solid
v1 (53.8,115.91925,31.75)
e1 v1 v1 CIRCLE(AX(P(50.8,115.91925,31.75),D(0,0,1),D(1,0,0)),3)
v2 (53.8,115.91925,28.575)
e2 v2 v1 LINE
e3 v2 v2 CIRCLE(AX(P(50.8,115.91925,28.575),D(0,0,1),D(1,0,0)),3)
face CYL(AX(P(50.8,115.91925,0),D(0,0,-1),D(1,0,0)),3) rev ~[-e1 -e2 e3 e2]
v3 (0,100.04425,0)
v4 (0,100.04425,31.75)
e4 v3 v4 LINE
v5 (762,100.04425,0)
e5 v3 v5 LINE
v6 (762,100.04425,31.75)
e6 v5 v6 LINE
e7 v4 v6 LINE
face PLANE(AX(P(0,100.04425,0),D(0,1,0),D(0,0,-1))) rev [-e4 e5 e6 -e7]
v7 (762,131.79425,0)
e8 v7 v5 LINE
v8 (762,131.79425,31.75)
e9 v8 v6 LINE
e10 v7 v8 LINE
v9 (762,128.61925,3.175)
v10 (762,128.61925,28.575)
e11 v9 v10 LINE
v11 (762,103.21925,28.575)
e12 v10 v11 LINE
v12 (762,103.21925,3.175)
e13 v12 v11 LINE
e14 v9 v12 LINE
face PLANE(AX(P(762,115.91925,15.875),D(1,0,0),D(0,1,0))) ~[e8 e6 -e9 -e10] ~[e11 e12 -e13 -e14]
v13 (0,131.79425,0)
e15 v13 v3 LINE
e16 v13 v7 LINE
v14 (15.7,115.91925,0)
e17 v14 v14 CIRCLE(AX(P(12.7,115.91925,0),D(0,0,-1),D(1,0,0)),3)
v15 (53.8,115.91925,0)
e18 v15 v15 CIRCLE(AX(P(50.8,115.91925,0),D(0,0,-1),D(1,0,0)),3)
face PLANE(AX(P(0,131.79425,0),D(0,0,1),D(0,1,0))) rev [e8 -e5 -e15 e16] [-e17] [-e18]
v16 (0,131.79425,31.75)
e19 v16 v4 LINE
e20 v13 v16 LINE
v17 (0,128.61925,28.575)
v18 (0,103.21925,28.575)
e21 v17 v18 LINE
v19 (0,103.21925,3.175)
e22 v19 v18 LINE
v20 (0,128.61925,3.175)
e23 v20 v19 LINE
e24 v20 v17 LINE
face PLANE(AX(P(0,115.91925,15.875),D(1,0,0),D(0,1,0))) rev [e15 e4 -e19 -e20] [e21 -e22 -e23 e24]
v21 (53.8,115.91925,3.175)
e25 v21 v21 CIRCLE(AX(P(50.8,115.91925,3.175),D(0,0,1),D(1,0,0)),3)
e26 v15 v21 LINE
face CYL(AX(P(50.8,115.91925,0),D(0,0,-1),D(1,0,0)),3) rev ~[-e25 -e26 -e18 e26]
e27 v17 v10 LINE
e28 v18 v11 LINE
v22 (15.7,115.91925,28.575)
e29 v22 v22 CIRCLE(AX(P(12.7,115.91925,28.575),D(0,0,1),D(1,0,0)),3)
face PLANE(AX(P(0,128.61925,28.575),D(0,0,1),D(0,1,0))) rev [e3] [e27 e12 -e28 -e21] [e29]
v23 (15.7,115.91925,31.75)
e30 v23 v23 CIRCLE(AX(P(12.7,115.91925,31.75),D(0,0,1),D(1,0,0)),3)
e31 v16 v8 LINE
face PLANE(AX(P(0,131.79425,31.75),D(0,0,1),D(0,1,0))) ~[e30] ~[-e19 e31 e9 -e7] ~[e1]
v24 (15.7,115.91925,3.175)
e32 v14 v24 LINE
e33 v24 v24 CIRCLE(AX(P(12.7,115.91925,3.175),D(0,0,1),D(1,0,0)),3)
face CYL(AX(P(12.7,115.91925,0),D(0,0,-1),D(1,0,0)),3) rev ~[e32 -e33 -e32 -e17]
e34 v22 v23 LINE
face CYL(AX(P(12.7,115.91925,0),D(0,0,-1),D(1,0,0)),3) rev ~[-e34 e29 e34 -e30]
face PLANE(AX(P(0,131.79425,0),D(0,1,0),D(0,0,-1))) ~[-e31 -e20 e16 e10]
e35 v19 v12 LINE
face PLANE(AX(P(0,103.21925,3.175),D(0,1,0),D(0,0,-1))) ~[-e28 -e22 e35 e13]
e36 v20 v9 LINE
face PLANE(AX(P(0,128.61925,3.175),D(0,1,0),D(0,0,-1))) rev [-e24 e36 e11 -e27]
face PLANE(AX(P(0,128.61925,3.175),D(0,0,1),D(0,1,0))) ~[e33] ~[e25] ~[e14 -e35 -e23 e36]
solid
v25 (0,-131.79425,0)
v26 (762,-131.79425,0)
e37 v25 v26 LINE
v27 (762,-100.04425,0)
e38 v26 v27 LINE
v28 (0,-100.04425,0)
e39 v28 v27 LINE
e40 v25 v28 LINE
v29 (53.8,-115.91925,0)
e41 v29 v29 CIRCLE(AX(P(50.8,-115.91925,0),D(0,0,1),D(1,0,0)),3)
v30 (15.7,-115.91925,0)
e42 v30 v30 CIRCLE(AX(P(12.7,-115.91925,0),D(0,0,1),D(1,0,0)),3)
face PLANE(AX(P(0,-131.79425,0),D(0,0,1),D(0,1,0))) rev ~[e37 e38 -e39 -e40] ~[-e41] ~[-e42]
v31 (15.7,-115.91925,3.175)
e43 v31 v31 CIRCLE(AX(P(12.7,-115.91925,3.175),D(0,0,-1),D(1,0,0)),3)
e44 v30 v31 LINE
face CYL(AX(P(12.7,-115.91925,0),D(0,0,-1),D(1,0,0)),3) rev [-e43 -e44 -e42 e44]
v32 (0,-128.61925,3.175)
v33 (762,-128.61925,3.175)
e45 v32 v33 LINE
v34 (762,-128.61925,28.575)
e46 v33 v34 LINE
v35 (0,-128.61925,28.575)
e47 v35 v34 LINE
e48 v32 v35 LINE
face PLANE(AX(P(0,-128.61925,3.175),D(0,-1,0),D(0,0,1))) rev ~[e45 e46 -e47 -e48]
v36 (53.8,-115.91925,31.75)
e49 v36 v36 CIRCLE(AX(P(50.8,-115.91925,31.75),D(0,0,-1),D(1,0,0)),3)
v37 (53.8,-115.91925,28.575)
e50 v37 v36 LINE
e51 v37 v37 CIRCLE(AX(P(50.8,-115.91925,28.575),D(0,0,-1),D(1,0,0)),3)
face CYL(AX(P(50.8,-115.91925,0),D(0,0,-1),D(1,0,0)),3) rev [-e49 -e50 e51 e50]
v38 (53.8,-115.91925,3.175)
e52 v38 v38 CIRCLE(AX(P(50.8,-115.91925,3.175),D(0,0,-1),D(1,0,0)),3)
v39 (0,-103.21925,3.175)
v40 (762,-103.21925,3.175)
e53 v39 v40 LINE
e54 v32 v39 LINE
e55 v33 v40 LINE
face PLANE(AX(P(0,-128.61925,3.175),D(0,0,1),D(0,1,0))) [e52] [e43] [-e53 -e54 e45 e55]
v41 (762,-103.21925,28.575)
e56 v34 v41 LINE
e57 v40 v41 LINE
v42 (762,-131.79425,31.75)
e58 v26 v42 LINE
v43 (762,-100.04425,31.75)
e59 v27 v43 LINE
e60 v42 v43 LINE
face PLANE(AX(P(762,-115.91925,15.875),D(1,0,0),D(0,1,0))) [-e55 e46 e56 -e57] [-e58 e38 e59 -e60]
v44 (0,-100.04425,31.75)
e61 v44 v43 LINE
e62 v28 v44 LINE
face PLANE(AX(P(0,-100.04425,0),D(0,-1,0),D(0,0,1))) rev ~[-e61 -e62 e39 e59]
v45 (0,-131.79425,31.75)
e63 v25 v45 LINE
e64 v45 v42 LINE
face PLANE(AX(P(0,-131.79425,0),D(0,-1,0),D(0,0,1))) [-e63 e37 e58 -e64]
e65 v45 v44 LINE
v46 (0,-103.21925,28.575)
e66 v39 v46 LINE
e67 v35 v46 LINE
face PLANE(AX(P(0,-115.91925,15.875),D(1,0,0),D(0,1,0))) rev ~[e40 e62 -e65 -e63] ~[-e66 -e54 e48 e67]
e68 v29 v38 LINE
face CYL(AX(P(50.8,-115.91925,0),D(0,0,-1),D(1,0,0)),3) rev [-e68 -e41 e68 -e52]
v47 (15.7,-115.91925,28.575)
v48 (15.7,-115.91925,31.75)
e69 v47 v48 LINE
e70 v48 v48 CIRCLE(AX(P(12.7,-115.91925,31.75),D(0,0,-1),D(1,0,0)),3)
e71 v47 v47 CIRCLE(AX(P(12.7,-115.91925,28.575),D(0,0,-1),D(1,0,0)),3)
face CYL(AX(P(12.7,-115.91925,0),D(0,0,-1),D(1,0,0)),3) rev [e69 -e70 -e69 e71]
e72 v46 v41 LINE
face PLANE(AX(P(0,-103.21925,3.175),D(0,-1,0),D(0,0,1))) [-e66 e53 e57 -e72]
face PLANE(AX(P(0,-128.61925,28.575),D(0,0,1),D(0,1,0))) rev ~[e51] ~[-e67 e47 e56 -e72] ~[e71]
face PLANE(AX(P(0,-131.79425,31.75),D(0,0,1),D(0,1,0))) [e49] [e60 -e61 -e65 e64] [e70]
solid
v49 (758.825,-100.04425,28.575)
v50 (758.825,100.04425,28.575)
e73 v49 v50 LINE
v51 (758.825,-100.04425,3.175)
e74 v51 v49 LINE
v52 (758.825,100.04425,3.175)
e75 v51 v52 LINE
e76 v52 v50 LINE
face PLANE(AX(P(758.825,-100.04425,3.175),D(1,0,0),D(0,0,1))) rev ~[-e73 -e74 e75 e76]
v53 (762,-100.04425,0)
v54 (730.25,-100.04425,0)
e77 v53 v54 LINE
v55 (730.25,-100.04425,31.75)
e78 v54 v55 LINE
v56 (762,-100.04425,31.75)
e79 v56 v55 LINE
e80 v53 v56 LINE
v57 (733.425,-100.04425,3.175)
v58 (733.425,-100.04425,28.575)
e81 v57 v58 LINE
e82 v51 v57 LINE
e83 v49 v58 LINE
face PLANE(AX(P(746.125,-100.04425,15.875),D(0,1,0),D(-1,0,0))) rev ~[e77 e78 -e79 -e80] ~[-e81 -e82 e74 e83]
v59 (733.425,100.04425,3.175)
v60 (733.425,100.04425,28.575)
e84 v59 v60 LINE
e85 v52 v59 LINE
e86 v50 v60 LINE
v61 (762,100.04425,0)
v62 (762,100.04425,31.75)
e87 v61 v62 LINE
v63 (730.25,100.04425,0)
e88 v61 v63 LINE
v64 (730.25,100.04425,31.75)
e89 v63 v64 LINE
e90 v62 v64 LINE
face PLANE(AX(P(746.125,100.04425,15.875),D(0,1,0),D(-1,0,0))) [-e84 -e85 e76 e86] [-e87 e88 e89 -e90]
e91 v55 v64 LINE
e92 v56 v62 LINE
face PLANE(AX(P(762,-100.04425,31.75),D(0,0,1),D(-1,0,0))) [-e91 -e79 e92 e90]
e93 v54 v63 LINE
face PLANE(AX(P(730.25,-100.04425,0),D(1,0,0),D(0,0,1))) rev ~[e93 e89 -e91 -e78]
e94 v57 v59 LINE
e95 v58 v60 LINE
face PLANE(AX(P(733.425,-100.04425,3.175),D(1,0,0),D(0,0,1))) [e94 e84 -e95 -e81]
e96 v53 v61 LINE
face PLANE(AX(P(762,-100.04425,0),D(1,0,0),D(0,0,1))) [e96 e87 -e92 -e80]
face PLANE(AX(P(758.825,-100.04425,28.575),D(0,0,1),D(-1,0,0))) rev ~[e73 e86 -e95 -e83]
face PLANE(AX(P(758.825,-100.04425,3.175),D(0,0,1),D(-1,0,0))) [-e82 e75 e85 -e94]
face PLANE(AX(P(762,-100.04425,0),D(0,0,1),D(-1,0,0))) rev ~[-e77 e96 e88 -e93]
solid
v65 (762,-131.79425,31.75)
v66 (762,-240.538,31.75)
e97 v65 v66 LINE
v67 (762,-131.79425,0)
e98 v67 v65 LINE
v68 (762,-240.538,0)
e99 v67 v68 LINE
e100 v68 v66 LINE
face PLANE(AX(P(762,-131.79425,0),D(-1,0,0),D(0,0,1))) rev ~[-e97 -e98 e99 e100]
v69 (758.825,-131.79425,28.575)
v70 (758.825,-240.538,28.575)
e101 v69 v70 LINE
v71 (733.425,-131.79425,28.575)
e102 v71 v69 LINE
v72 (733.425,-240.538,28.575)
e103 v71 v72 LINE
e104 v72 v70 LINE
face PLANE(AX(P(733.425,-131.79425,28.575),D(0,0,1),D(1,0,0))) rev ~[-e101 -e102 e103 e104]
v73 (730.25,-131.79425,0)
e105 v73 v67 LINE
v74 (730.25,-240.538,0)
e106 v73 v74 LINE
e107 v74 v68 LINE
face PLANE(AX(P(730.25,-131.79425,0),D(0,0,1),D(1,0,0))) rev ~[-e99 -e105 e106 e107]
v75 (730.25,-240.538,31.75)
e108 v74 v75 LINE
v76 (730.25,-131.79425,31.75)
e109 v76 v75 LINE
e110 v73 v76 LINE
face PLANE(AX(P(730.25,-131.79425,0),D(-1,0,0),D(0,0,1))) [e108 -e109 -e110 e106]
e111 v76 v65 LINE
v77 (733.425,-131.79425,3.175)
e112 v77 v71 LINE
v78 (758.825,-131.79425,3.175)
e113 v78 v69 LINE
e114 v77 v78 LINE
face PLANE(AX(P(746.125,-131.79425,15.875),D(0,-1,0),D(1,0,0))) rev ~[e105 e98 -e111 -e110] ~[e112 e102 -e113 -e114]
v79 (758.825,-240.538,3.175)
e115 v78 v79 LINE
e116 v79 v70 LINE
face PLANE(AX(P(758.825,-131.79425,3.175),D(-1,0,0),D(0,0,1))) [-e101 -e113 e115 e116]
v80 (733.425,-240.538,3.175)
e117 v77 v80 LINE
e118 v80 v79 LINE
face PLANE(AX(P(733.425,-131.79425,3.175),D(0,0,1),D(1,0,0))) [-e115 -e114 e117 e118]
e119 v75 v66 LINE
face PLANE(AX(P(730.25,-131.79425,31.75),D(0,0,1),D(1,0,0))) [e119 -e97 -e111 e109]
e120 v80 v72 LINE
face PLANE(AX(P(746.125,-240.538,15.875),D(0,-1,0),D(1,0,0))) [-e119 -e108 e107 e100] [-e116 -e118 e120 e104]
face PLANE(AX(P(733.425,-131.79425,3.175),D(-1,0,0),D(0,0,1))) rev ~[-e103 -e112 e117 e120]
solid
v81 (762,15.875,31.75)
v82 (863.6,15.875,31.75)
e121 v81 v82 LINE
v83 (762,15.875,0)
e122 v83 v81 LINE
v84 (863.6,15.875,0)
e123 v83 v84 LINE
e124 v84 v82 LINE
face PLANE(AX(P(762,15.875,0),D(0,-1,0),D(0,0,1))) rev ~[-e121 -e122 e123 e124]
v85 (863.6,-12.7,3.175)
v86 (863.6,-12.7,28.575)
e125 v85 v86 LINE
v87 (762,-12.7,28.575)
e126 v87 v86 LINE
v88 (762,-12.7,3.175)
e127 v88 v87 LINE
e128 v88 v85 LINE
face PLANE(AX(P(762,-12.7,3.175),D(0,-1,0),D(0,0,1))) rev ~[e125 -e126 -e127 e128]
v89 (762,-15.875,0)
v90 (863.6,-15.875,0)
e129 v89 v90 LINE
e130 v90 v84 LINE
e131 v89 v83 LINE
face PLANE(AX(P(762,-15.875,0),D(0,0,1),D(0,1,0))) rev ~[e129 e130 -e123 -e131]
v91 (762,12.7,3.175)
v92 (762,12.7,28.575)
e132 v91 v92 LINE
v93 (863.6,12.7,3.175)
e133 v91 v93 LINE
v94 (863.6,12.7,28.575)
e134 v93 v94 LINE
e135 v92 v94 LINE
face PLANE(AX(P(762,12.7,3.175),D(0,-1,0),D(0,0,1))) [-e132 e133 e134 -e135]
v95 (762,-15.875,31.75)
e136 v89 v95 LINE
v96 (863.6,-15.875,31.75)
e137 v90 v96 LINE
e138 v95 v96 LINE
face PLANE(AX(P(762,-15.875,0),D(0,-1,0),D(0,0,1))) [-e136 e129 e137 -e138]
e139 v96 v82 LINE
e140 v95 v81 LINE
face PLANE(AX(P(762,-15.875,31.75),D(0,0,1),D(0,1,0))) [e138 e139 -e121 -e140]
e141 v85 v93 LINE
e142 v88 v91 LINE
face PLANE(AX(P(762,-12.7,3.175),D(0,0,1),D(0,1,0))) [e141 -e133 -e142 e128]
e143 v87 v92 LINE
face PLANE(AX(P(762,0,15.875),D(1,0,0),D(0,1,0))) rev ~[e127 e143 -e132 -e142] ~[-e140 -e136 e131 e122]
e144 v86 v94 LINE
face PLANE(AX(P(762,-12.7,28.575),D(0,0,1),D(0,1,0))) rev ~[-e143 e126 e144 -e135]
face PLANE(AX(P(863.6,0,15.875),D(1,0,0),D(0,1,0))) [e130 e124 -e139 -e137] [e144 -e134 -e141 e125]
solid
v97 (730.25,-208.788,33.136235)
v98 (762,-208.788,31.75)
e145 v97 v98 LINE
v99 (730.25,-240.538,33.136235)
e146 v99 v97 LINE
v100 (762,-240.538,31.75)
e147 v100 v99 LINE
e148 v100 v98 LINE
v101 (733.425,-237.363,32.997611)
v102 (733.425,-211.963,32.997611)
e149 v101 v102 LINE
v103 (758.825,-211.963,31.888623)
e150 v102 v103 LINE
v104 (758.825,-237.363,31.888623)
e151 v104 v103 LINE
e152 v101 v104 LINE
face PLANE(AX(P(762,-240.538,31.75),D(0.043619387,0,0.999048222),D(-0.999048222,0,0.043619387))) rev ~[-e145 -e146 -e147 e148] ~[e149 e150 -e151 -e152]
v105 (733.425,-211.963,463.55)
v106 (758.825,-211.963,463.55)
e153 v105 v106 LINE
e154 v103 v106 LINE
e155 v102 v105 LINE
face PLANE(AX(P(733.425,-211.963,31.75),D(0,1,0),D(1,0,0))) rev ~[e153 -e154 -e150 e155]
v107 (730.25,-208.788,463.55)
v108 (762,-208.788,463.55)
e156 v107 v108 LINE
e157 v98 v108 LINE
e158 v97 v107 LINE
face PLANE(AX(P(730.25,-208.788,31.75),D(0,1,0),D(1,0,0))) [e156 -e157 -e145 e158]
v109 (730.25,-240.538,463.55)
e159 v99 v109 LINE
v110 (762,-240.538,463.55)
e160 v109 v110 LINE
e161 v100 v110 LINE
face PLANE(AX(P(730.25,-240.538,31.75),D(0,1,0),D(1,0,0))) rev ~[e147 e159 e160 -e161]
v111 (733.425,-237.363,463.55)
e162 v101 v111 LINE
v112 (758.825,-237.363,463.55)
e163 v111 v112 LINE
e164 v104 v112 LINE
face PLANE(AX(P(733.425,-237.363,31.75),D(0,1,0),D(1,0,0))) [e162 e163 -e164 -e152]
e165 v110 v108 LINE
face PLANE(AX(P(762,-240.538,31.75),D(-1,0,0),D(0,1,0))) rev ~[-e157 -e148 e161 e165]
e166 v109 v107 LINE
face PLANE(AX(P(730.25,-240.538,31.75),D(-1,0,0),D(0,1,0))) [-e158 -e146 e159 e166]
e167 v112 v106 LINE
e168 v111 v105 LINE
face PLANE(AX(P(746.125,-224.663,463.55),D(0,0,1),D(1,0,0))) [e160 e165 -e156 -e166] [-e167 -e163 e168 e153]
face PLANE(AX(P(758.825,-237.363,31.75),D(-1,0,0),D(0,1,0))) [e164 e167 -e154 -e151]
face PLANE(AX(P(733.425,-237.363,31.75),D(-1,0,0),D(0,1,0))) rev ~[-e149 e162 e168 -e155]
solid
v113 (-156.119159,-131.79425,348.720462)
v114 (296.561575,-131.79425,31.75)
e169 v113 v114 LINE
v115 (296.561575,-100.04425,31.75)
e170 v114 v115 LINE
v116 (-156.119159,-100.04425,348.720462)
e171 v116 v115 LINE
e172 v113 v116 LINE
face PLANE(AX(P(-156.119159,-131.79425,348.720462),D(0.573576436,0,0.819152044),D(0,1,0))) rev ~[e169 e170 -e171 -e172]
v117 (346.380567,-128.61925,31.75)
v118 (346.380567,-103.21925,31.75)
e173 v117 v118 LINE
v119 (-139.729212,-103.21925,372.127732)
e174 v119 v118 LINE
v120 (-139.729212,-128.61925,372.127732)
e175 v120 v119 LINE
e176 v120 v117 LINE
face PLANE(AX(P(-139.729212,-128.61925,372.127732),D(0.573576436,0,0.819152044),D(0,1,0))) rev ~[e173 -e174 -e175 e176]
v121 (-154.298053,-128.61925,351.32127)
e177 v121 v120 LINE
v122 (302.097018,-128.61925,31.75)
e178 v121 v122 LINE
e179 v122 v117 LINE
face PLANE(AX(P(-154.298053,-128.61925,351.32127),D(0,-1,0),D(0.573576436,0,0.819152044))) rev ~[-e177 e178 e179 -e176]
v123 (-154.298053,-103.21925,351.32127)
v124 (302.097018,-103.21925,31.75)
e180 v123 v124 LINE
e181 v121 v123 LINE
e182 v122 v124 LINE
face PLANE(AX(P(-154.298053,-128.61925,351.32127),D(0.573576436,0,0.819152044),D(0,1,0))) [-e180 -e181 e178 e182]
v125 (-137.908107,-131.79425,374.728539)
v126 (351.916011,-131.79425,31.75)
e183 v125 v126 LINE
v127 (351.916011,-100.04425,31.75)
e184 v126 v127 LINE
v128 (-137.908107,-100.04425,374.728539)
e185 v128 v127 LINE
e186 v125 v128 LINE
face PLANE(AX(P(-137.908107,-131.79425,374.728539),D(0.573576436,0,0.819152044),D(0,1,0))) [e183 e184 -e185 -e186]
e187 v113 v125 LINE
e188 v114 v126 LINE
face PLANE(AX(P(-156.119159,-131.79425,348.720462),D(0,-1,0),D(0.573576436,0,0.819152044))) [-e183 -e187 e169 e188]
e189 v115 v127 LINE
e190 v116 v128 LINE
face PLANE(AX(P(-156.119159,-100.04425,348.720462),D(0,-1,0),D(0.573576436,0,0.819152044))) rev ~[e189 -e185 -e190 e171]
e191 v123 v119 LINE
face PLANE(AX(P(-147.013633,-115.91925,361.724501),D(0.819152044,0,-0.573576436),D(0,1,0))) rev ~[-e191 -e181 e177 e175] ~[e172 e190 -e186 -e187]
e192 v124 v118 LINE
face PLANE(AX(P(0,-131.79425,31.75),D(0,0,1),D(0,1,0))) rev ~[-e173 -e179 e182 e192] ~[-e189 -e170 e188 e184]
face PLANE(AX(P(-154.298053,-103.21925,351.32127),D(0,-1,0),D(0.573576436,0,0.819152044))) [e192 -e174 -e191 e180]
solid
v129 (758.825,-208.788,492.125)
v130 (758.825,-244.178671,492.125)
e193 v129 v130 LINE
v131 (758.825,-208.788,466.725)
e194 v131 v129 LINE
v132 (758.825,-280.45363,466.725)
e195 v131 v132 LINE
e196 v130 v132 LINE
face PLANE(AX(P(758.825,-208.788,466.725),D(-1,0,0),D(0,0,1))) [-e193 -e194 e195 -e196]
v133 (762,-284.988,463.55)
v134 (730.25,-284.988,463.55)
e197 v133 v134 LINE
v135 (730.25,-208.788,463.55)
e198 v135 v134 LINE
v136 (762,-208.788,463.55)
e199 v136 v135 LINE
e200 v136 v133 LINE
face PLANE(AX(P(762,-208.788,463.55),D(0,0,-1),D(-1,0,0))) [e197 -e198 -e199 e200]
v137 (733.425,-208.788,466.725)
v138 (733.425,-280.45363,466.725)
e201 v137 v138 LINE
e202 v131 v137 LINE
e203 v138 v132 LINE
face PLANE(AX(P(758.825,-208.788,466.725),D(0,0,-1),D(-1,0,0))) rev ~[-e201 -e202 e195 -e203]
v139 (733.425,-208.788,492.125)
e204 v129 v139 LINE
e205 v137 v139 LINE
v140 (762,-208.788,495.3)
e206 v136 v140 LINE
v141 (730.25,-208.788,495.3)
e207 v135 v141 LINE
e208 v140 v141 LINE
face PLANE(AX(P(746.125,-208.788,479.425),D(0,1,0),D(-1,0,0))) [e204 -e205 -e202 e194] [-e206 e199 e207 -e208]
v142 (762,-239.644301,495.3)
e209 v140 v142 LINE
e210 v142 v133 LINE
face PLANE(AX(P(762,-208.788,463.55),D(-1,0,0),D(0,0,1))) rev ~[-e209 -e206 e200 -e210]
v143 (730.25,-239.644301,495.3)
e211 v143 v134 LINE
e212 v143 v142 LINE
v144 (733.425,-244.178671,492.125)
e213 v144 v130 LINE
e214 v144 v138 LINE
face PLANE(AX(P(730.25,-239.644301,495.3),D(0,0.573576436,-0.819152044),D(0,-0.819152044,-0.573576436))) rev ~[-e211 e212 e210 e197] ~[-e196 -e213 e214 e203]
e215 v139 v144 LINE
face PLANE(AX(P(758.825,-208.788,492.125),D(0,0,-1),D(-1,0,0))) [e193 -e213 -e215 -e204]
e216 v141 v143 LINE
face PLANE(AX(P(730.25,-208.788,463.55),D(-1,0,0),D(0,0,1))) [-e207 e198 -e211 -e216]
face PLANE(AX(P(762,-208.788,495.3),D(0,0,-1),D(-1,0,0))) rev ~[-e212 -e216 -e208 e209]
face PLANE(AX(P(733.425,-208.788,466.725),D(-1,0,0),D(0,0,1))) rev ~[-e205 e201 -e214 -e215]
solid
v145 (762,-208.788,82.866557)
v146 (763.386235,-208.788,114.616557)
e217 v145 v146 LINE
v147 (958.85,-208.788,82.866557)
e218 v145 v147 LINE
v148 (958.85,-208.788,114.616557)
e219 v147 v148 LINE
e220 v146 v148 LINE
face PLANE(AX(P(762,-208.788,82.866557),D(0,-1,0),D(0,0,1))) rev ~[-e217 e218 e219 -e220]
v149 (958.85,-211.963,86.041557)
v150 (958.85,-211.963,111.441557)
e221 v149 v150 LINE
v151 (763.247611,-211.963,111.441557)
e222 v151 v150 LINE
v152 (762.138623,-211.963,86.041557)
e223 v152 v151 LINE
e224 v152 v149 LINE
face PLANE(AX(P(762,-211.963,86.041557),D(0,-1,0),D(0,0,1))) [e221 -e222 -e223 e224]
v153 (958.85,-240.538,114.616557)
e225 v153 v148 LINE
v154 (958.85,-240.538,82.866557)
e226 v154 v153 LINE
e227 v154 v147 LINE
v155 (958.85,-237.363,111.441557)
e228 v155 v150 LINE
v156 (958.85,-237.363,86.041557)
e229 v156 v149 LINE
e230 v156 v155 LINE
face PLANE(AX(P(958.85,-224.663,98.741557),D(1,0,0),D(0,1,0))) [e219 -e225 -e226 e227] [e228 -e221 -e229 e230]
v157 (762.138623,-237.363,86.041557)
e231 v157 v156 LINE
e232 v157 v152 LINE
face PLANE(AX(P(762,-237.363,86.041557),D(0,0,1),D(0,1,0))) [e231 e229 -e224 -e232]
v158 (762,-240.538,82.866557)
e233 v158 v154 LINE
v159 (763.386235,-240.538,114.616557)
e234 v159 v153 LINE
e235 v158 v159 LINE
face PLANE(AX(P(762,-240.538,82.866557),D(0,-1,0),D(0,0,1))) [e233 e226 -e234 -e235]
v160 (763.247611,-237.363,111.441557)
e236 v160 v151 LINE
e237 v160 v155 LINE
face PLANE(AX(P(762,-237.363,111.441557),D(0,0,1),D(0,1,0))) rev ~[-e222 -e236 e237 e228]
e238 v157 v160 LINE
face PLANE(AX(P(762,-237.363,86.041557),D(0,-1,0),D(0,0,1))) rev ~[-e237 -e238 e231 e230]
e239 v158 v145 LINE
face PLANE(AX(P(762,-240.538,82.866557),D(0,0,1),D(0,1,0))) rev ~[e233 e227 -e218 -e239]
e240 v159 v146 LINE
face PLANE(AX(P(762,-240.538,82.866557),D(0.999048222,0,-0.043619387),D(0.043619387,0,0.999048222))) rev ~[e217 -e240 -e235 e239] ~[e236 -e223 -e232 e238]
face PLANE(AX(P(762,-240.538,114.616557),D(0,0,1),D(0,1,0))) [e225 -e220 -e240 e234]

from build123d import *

# Parameters (mm, degrees)
F0_W      = 31.75
F0_H      = 31.75
F0_W_2    = 25.4
F0_H_2    = 25.4
F1_DEPTH  = 762
F2_R      = 3
F3_DEPTH  = 31.751
F5_W      = 31.75
F5_H      = 31.75
F5_W_2    = 25.4
F5_H_2    = 25.4
F6_DEPTH  = 200.0885
F7_W      = 31.75
F7_H      = 31.75
F7_W_2    = 25.4
F7_H_2    = 25.4
F8_DEPTH  = 101.6
F9_W      = 31.75
F9_H      = 31.75
F9_W_2    = 25.4
F9_H_2    = 25.4
F10_DEPTH = 108.74375
F11_W     = 31.75
F11_H     = 31.75
F11_W_2   = 25.4
F11_H_2   = 25.4
F12_DEPTH = 431.8
F14_DEPTH = 60.706
F15_W     = 31.75
F15_H     = 31.75
F15_W_2   = 25.4
F15_H_2   = 25.4
F16_DEPTH = 76.2
F18_DEPTH = 133.351
F20_W     = 31.75
F20_H     = 31.75
F20_W_2   = 25.4
F20_H_2   = 25.4
F21_DEPTH = 196.85
F23_DEPTH = 41.402
F25_W     = 31.75
F25_H     = 31.75
F25_W_2   = 25.4
F25_H_2   = 25.4


with BuildPart() as f1:
    # F0 (on Right) → F1 (new body)
    with BuildSketch(Plane.YZ):
        with Locations((-115.91925, 15.875)):
            Rectangle(F0_W, F0_H)
        with Locations((-115.91925, 15.875)):
            Rectangle(F0_W_2, F0_H_2, mode=Mode.SUBTRACT)
    extrude(amount=F1_DEPTH)

    # F2 (on Top) → F3 (cut, through all)
    with BuildSketch(Plane.XY):
        with Locations((12.7, -115.91925)):
            Circle(F2_R)
        with Locations((50.8, -115.91925)):
            Circle(F2_R)
    extrude(amount=F3_DEPTH, mode=Mode.SUBTRACT)


with BuildPart() as f4_1:
    # F4: instance of F1
    add(f1.part.mirror(Plane.XZ))


with BuildPart() as f6:
    # F5 (on face) → F6 (new body, through all)
    with BuildSketch(Plane(origin=(0, -100.04425, 0), x_dir=(-1, 0, 0), z_dir=(0, 1, 0))):
        with Locations((-746.125, 15.875)):
            Rectangle(F5_W, F5_H)
        with Locations((-746.125, 15.875)):
            Rectangle(F5_W_2, F5_H_2, mode=Mode.SUBTRACT)
    extrude(amount=F6_DEPTH)


with BuildPart() as f8:
    # F7 (on face) → F8 (new body)
    with BuildSketch(Plane.YZ.offset(762)):
        with Locations((0, 15.875)):
            Rectangle(F7_W, F7_H)
        with Locations((0, 15.875)):
            Rectangle(F7_W_2, F7_H_2, mode=Mode.SUBTRACT)
    extrude(amount=F8_DEPTH)


with BuildPart() as f10:
    # F9 (on face) → F10 (new body)
    with BuildSketch(Plane.XZ.offset(131.79425)):
        with Locations((746.125, 15.875)):
            Rectangle(F9_W, F9_H)
        with Locations((746.125, 15.875)):
            Rectangle(F9_W_2, F9_H_2, mode=Mode.SUBTRACT)
    extrude(amount=F10_DEPTH)


with BuildPart() as f12:
    # F11 (on face) → F12 (new body)
    with BuildSketch(Plane.XY.offset(31.75)):
        with Locations((746.125, -224.663)):
            Rectangle(F11_W, F11_H)
        with Locations((746.125, -224.663)):
            Rectangle(F11_W_2, F11_H_2, mode=Mode.SUBTRACT)
    extrude(amount=F12_DEPTH)

    # F13 (on face) → F14 (cut)
    with BuildSketch(Plane.XZ.offset(240.538)):
        Polygon((730.25, 31.75), (762, 31.75), (730.25, 33.1362349373), align=None)
    extrude(amount=-F14_DEPTH, mode=Mode.SUBTRACT)


with BuildPart() as f16:
    # F15 (on face) → F16 (new body)
    with BuildSketch(Plane(origin=(0, -208.788, 0), x_dir=(-1, 0, 0), z_dir=(0, 1, 0))):
        with Locations((-746.125, 479.425)):
            Rectangle(F15_W, F15_H)
        with Locations((-746.125, 479.425)):
            Rectangle(F15_W_2, F15_H_2, mode=Mode.SUBTRACT)
    extrude(amount=-F16_DEPTH)

    # F17 (on face) → F18 (cut, through all)
    with BuildSketch(Plane(origin=(730.25, 0, 0), x_dir=(0, -1, 0), z_dir=(-1, 0, 0))):
        Polygon((239.6443007859, 495.3), (284.988, 463.55), (284.988, 495.3), align=None)
    extrude(amount=-F18_DEPTH, mode=Mode.SUBTRACT)


with BuildPart() as f21:
    # F20 (on face) → F21 (new body)
    with BuildSketch(Plane.YZ.offset(762)):
        with Locations((-224.663, 98.7415569425)):
            Rectangle(F20_W, F20_H)
        with Locations((-224.663, 98.7415569425)):
            Rectangle(F20_W_2, F20_H_2, mode=Mode.SUBTRACT)
    extrude(amount=F21_DEPTH)

    # F22 (on face) → F23 (cut)
    with BuildSketch(Plane.XZ.offset(240.538)):
        Polygon((762, 114.6165569425), (762, 82.8665569425), (763.3862349373, 114.6165569425), align=None)
    extrude(amount=-F23_DEPTH, mode=Mode.SUBTRACT)


with BuildPart() as f26:
    # F25 (on line) → F26 (new body, up to the next surface of F1)
    with BuildSketch(Plane(origin=(-268.6025501382, 0, 188.0775303891), x_dir=(0, 1, 0), z_dir=(0.8191520443, 0, -0.5735764364))):
        with Locations((-115.91925, 211.9838086831)):
            Rectangle(F25_W, F25_H)
        with Locations((-115.91925, 211.9838086831)):
            Rectangle(F25_W_2, F25_H_2, mode=Mode.SUBTRACT)
    extrude(until=Until.NEXT, target=f1.part)


solid = Compound([f1.part, f4_1.part, f6.part, f8.part, f10.part, f12.part, f16.part, f21.part, f26.part])
